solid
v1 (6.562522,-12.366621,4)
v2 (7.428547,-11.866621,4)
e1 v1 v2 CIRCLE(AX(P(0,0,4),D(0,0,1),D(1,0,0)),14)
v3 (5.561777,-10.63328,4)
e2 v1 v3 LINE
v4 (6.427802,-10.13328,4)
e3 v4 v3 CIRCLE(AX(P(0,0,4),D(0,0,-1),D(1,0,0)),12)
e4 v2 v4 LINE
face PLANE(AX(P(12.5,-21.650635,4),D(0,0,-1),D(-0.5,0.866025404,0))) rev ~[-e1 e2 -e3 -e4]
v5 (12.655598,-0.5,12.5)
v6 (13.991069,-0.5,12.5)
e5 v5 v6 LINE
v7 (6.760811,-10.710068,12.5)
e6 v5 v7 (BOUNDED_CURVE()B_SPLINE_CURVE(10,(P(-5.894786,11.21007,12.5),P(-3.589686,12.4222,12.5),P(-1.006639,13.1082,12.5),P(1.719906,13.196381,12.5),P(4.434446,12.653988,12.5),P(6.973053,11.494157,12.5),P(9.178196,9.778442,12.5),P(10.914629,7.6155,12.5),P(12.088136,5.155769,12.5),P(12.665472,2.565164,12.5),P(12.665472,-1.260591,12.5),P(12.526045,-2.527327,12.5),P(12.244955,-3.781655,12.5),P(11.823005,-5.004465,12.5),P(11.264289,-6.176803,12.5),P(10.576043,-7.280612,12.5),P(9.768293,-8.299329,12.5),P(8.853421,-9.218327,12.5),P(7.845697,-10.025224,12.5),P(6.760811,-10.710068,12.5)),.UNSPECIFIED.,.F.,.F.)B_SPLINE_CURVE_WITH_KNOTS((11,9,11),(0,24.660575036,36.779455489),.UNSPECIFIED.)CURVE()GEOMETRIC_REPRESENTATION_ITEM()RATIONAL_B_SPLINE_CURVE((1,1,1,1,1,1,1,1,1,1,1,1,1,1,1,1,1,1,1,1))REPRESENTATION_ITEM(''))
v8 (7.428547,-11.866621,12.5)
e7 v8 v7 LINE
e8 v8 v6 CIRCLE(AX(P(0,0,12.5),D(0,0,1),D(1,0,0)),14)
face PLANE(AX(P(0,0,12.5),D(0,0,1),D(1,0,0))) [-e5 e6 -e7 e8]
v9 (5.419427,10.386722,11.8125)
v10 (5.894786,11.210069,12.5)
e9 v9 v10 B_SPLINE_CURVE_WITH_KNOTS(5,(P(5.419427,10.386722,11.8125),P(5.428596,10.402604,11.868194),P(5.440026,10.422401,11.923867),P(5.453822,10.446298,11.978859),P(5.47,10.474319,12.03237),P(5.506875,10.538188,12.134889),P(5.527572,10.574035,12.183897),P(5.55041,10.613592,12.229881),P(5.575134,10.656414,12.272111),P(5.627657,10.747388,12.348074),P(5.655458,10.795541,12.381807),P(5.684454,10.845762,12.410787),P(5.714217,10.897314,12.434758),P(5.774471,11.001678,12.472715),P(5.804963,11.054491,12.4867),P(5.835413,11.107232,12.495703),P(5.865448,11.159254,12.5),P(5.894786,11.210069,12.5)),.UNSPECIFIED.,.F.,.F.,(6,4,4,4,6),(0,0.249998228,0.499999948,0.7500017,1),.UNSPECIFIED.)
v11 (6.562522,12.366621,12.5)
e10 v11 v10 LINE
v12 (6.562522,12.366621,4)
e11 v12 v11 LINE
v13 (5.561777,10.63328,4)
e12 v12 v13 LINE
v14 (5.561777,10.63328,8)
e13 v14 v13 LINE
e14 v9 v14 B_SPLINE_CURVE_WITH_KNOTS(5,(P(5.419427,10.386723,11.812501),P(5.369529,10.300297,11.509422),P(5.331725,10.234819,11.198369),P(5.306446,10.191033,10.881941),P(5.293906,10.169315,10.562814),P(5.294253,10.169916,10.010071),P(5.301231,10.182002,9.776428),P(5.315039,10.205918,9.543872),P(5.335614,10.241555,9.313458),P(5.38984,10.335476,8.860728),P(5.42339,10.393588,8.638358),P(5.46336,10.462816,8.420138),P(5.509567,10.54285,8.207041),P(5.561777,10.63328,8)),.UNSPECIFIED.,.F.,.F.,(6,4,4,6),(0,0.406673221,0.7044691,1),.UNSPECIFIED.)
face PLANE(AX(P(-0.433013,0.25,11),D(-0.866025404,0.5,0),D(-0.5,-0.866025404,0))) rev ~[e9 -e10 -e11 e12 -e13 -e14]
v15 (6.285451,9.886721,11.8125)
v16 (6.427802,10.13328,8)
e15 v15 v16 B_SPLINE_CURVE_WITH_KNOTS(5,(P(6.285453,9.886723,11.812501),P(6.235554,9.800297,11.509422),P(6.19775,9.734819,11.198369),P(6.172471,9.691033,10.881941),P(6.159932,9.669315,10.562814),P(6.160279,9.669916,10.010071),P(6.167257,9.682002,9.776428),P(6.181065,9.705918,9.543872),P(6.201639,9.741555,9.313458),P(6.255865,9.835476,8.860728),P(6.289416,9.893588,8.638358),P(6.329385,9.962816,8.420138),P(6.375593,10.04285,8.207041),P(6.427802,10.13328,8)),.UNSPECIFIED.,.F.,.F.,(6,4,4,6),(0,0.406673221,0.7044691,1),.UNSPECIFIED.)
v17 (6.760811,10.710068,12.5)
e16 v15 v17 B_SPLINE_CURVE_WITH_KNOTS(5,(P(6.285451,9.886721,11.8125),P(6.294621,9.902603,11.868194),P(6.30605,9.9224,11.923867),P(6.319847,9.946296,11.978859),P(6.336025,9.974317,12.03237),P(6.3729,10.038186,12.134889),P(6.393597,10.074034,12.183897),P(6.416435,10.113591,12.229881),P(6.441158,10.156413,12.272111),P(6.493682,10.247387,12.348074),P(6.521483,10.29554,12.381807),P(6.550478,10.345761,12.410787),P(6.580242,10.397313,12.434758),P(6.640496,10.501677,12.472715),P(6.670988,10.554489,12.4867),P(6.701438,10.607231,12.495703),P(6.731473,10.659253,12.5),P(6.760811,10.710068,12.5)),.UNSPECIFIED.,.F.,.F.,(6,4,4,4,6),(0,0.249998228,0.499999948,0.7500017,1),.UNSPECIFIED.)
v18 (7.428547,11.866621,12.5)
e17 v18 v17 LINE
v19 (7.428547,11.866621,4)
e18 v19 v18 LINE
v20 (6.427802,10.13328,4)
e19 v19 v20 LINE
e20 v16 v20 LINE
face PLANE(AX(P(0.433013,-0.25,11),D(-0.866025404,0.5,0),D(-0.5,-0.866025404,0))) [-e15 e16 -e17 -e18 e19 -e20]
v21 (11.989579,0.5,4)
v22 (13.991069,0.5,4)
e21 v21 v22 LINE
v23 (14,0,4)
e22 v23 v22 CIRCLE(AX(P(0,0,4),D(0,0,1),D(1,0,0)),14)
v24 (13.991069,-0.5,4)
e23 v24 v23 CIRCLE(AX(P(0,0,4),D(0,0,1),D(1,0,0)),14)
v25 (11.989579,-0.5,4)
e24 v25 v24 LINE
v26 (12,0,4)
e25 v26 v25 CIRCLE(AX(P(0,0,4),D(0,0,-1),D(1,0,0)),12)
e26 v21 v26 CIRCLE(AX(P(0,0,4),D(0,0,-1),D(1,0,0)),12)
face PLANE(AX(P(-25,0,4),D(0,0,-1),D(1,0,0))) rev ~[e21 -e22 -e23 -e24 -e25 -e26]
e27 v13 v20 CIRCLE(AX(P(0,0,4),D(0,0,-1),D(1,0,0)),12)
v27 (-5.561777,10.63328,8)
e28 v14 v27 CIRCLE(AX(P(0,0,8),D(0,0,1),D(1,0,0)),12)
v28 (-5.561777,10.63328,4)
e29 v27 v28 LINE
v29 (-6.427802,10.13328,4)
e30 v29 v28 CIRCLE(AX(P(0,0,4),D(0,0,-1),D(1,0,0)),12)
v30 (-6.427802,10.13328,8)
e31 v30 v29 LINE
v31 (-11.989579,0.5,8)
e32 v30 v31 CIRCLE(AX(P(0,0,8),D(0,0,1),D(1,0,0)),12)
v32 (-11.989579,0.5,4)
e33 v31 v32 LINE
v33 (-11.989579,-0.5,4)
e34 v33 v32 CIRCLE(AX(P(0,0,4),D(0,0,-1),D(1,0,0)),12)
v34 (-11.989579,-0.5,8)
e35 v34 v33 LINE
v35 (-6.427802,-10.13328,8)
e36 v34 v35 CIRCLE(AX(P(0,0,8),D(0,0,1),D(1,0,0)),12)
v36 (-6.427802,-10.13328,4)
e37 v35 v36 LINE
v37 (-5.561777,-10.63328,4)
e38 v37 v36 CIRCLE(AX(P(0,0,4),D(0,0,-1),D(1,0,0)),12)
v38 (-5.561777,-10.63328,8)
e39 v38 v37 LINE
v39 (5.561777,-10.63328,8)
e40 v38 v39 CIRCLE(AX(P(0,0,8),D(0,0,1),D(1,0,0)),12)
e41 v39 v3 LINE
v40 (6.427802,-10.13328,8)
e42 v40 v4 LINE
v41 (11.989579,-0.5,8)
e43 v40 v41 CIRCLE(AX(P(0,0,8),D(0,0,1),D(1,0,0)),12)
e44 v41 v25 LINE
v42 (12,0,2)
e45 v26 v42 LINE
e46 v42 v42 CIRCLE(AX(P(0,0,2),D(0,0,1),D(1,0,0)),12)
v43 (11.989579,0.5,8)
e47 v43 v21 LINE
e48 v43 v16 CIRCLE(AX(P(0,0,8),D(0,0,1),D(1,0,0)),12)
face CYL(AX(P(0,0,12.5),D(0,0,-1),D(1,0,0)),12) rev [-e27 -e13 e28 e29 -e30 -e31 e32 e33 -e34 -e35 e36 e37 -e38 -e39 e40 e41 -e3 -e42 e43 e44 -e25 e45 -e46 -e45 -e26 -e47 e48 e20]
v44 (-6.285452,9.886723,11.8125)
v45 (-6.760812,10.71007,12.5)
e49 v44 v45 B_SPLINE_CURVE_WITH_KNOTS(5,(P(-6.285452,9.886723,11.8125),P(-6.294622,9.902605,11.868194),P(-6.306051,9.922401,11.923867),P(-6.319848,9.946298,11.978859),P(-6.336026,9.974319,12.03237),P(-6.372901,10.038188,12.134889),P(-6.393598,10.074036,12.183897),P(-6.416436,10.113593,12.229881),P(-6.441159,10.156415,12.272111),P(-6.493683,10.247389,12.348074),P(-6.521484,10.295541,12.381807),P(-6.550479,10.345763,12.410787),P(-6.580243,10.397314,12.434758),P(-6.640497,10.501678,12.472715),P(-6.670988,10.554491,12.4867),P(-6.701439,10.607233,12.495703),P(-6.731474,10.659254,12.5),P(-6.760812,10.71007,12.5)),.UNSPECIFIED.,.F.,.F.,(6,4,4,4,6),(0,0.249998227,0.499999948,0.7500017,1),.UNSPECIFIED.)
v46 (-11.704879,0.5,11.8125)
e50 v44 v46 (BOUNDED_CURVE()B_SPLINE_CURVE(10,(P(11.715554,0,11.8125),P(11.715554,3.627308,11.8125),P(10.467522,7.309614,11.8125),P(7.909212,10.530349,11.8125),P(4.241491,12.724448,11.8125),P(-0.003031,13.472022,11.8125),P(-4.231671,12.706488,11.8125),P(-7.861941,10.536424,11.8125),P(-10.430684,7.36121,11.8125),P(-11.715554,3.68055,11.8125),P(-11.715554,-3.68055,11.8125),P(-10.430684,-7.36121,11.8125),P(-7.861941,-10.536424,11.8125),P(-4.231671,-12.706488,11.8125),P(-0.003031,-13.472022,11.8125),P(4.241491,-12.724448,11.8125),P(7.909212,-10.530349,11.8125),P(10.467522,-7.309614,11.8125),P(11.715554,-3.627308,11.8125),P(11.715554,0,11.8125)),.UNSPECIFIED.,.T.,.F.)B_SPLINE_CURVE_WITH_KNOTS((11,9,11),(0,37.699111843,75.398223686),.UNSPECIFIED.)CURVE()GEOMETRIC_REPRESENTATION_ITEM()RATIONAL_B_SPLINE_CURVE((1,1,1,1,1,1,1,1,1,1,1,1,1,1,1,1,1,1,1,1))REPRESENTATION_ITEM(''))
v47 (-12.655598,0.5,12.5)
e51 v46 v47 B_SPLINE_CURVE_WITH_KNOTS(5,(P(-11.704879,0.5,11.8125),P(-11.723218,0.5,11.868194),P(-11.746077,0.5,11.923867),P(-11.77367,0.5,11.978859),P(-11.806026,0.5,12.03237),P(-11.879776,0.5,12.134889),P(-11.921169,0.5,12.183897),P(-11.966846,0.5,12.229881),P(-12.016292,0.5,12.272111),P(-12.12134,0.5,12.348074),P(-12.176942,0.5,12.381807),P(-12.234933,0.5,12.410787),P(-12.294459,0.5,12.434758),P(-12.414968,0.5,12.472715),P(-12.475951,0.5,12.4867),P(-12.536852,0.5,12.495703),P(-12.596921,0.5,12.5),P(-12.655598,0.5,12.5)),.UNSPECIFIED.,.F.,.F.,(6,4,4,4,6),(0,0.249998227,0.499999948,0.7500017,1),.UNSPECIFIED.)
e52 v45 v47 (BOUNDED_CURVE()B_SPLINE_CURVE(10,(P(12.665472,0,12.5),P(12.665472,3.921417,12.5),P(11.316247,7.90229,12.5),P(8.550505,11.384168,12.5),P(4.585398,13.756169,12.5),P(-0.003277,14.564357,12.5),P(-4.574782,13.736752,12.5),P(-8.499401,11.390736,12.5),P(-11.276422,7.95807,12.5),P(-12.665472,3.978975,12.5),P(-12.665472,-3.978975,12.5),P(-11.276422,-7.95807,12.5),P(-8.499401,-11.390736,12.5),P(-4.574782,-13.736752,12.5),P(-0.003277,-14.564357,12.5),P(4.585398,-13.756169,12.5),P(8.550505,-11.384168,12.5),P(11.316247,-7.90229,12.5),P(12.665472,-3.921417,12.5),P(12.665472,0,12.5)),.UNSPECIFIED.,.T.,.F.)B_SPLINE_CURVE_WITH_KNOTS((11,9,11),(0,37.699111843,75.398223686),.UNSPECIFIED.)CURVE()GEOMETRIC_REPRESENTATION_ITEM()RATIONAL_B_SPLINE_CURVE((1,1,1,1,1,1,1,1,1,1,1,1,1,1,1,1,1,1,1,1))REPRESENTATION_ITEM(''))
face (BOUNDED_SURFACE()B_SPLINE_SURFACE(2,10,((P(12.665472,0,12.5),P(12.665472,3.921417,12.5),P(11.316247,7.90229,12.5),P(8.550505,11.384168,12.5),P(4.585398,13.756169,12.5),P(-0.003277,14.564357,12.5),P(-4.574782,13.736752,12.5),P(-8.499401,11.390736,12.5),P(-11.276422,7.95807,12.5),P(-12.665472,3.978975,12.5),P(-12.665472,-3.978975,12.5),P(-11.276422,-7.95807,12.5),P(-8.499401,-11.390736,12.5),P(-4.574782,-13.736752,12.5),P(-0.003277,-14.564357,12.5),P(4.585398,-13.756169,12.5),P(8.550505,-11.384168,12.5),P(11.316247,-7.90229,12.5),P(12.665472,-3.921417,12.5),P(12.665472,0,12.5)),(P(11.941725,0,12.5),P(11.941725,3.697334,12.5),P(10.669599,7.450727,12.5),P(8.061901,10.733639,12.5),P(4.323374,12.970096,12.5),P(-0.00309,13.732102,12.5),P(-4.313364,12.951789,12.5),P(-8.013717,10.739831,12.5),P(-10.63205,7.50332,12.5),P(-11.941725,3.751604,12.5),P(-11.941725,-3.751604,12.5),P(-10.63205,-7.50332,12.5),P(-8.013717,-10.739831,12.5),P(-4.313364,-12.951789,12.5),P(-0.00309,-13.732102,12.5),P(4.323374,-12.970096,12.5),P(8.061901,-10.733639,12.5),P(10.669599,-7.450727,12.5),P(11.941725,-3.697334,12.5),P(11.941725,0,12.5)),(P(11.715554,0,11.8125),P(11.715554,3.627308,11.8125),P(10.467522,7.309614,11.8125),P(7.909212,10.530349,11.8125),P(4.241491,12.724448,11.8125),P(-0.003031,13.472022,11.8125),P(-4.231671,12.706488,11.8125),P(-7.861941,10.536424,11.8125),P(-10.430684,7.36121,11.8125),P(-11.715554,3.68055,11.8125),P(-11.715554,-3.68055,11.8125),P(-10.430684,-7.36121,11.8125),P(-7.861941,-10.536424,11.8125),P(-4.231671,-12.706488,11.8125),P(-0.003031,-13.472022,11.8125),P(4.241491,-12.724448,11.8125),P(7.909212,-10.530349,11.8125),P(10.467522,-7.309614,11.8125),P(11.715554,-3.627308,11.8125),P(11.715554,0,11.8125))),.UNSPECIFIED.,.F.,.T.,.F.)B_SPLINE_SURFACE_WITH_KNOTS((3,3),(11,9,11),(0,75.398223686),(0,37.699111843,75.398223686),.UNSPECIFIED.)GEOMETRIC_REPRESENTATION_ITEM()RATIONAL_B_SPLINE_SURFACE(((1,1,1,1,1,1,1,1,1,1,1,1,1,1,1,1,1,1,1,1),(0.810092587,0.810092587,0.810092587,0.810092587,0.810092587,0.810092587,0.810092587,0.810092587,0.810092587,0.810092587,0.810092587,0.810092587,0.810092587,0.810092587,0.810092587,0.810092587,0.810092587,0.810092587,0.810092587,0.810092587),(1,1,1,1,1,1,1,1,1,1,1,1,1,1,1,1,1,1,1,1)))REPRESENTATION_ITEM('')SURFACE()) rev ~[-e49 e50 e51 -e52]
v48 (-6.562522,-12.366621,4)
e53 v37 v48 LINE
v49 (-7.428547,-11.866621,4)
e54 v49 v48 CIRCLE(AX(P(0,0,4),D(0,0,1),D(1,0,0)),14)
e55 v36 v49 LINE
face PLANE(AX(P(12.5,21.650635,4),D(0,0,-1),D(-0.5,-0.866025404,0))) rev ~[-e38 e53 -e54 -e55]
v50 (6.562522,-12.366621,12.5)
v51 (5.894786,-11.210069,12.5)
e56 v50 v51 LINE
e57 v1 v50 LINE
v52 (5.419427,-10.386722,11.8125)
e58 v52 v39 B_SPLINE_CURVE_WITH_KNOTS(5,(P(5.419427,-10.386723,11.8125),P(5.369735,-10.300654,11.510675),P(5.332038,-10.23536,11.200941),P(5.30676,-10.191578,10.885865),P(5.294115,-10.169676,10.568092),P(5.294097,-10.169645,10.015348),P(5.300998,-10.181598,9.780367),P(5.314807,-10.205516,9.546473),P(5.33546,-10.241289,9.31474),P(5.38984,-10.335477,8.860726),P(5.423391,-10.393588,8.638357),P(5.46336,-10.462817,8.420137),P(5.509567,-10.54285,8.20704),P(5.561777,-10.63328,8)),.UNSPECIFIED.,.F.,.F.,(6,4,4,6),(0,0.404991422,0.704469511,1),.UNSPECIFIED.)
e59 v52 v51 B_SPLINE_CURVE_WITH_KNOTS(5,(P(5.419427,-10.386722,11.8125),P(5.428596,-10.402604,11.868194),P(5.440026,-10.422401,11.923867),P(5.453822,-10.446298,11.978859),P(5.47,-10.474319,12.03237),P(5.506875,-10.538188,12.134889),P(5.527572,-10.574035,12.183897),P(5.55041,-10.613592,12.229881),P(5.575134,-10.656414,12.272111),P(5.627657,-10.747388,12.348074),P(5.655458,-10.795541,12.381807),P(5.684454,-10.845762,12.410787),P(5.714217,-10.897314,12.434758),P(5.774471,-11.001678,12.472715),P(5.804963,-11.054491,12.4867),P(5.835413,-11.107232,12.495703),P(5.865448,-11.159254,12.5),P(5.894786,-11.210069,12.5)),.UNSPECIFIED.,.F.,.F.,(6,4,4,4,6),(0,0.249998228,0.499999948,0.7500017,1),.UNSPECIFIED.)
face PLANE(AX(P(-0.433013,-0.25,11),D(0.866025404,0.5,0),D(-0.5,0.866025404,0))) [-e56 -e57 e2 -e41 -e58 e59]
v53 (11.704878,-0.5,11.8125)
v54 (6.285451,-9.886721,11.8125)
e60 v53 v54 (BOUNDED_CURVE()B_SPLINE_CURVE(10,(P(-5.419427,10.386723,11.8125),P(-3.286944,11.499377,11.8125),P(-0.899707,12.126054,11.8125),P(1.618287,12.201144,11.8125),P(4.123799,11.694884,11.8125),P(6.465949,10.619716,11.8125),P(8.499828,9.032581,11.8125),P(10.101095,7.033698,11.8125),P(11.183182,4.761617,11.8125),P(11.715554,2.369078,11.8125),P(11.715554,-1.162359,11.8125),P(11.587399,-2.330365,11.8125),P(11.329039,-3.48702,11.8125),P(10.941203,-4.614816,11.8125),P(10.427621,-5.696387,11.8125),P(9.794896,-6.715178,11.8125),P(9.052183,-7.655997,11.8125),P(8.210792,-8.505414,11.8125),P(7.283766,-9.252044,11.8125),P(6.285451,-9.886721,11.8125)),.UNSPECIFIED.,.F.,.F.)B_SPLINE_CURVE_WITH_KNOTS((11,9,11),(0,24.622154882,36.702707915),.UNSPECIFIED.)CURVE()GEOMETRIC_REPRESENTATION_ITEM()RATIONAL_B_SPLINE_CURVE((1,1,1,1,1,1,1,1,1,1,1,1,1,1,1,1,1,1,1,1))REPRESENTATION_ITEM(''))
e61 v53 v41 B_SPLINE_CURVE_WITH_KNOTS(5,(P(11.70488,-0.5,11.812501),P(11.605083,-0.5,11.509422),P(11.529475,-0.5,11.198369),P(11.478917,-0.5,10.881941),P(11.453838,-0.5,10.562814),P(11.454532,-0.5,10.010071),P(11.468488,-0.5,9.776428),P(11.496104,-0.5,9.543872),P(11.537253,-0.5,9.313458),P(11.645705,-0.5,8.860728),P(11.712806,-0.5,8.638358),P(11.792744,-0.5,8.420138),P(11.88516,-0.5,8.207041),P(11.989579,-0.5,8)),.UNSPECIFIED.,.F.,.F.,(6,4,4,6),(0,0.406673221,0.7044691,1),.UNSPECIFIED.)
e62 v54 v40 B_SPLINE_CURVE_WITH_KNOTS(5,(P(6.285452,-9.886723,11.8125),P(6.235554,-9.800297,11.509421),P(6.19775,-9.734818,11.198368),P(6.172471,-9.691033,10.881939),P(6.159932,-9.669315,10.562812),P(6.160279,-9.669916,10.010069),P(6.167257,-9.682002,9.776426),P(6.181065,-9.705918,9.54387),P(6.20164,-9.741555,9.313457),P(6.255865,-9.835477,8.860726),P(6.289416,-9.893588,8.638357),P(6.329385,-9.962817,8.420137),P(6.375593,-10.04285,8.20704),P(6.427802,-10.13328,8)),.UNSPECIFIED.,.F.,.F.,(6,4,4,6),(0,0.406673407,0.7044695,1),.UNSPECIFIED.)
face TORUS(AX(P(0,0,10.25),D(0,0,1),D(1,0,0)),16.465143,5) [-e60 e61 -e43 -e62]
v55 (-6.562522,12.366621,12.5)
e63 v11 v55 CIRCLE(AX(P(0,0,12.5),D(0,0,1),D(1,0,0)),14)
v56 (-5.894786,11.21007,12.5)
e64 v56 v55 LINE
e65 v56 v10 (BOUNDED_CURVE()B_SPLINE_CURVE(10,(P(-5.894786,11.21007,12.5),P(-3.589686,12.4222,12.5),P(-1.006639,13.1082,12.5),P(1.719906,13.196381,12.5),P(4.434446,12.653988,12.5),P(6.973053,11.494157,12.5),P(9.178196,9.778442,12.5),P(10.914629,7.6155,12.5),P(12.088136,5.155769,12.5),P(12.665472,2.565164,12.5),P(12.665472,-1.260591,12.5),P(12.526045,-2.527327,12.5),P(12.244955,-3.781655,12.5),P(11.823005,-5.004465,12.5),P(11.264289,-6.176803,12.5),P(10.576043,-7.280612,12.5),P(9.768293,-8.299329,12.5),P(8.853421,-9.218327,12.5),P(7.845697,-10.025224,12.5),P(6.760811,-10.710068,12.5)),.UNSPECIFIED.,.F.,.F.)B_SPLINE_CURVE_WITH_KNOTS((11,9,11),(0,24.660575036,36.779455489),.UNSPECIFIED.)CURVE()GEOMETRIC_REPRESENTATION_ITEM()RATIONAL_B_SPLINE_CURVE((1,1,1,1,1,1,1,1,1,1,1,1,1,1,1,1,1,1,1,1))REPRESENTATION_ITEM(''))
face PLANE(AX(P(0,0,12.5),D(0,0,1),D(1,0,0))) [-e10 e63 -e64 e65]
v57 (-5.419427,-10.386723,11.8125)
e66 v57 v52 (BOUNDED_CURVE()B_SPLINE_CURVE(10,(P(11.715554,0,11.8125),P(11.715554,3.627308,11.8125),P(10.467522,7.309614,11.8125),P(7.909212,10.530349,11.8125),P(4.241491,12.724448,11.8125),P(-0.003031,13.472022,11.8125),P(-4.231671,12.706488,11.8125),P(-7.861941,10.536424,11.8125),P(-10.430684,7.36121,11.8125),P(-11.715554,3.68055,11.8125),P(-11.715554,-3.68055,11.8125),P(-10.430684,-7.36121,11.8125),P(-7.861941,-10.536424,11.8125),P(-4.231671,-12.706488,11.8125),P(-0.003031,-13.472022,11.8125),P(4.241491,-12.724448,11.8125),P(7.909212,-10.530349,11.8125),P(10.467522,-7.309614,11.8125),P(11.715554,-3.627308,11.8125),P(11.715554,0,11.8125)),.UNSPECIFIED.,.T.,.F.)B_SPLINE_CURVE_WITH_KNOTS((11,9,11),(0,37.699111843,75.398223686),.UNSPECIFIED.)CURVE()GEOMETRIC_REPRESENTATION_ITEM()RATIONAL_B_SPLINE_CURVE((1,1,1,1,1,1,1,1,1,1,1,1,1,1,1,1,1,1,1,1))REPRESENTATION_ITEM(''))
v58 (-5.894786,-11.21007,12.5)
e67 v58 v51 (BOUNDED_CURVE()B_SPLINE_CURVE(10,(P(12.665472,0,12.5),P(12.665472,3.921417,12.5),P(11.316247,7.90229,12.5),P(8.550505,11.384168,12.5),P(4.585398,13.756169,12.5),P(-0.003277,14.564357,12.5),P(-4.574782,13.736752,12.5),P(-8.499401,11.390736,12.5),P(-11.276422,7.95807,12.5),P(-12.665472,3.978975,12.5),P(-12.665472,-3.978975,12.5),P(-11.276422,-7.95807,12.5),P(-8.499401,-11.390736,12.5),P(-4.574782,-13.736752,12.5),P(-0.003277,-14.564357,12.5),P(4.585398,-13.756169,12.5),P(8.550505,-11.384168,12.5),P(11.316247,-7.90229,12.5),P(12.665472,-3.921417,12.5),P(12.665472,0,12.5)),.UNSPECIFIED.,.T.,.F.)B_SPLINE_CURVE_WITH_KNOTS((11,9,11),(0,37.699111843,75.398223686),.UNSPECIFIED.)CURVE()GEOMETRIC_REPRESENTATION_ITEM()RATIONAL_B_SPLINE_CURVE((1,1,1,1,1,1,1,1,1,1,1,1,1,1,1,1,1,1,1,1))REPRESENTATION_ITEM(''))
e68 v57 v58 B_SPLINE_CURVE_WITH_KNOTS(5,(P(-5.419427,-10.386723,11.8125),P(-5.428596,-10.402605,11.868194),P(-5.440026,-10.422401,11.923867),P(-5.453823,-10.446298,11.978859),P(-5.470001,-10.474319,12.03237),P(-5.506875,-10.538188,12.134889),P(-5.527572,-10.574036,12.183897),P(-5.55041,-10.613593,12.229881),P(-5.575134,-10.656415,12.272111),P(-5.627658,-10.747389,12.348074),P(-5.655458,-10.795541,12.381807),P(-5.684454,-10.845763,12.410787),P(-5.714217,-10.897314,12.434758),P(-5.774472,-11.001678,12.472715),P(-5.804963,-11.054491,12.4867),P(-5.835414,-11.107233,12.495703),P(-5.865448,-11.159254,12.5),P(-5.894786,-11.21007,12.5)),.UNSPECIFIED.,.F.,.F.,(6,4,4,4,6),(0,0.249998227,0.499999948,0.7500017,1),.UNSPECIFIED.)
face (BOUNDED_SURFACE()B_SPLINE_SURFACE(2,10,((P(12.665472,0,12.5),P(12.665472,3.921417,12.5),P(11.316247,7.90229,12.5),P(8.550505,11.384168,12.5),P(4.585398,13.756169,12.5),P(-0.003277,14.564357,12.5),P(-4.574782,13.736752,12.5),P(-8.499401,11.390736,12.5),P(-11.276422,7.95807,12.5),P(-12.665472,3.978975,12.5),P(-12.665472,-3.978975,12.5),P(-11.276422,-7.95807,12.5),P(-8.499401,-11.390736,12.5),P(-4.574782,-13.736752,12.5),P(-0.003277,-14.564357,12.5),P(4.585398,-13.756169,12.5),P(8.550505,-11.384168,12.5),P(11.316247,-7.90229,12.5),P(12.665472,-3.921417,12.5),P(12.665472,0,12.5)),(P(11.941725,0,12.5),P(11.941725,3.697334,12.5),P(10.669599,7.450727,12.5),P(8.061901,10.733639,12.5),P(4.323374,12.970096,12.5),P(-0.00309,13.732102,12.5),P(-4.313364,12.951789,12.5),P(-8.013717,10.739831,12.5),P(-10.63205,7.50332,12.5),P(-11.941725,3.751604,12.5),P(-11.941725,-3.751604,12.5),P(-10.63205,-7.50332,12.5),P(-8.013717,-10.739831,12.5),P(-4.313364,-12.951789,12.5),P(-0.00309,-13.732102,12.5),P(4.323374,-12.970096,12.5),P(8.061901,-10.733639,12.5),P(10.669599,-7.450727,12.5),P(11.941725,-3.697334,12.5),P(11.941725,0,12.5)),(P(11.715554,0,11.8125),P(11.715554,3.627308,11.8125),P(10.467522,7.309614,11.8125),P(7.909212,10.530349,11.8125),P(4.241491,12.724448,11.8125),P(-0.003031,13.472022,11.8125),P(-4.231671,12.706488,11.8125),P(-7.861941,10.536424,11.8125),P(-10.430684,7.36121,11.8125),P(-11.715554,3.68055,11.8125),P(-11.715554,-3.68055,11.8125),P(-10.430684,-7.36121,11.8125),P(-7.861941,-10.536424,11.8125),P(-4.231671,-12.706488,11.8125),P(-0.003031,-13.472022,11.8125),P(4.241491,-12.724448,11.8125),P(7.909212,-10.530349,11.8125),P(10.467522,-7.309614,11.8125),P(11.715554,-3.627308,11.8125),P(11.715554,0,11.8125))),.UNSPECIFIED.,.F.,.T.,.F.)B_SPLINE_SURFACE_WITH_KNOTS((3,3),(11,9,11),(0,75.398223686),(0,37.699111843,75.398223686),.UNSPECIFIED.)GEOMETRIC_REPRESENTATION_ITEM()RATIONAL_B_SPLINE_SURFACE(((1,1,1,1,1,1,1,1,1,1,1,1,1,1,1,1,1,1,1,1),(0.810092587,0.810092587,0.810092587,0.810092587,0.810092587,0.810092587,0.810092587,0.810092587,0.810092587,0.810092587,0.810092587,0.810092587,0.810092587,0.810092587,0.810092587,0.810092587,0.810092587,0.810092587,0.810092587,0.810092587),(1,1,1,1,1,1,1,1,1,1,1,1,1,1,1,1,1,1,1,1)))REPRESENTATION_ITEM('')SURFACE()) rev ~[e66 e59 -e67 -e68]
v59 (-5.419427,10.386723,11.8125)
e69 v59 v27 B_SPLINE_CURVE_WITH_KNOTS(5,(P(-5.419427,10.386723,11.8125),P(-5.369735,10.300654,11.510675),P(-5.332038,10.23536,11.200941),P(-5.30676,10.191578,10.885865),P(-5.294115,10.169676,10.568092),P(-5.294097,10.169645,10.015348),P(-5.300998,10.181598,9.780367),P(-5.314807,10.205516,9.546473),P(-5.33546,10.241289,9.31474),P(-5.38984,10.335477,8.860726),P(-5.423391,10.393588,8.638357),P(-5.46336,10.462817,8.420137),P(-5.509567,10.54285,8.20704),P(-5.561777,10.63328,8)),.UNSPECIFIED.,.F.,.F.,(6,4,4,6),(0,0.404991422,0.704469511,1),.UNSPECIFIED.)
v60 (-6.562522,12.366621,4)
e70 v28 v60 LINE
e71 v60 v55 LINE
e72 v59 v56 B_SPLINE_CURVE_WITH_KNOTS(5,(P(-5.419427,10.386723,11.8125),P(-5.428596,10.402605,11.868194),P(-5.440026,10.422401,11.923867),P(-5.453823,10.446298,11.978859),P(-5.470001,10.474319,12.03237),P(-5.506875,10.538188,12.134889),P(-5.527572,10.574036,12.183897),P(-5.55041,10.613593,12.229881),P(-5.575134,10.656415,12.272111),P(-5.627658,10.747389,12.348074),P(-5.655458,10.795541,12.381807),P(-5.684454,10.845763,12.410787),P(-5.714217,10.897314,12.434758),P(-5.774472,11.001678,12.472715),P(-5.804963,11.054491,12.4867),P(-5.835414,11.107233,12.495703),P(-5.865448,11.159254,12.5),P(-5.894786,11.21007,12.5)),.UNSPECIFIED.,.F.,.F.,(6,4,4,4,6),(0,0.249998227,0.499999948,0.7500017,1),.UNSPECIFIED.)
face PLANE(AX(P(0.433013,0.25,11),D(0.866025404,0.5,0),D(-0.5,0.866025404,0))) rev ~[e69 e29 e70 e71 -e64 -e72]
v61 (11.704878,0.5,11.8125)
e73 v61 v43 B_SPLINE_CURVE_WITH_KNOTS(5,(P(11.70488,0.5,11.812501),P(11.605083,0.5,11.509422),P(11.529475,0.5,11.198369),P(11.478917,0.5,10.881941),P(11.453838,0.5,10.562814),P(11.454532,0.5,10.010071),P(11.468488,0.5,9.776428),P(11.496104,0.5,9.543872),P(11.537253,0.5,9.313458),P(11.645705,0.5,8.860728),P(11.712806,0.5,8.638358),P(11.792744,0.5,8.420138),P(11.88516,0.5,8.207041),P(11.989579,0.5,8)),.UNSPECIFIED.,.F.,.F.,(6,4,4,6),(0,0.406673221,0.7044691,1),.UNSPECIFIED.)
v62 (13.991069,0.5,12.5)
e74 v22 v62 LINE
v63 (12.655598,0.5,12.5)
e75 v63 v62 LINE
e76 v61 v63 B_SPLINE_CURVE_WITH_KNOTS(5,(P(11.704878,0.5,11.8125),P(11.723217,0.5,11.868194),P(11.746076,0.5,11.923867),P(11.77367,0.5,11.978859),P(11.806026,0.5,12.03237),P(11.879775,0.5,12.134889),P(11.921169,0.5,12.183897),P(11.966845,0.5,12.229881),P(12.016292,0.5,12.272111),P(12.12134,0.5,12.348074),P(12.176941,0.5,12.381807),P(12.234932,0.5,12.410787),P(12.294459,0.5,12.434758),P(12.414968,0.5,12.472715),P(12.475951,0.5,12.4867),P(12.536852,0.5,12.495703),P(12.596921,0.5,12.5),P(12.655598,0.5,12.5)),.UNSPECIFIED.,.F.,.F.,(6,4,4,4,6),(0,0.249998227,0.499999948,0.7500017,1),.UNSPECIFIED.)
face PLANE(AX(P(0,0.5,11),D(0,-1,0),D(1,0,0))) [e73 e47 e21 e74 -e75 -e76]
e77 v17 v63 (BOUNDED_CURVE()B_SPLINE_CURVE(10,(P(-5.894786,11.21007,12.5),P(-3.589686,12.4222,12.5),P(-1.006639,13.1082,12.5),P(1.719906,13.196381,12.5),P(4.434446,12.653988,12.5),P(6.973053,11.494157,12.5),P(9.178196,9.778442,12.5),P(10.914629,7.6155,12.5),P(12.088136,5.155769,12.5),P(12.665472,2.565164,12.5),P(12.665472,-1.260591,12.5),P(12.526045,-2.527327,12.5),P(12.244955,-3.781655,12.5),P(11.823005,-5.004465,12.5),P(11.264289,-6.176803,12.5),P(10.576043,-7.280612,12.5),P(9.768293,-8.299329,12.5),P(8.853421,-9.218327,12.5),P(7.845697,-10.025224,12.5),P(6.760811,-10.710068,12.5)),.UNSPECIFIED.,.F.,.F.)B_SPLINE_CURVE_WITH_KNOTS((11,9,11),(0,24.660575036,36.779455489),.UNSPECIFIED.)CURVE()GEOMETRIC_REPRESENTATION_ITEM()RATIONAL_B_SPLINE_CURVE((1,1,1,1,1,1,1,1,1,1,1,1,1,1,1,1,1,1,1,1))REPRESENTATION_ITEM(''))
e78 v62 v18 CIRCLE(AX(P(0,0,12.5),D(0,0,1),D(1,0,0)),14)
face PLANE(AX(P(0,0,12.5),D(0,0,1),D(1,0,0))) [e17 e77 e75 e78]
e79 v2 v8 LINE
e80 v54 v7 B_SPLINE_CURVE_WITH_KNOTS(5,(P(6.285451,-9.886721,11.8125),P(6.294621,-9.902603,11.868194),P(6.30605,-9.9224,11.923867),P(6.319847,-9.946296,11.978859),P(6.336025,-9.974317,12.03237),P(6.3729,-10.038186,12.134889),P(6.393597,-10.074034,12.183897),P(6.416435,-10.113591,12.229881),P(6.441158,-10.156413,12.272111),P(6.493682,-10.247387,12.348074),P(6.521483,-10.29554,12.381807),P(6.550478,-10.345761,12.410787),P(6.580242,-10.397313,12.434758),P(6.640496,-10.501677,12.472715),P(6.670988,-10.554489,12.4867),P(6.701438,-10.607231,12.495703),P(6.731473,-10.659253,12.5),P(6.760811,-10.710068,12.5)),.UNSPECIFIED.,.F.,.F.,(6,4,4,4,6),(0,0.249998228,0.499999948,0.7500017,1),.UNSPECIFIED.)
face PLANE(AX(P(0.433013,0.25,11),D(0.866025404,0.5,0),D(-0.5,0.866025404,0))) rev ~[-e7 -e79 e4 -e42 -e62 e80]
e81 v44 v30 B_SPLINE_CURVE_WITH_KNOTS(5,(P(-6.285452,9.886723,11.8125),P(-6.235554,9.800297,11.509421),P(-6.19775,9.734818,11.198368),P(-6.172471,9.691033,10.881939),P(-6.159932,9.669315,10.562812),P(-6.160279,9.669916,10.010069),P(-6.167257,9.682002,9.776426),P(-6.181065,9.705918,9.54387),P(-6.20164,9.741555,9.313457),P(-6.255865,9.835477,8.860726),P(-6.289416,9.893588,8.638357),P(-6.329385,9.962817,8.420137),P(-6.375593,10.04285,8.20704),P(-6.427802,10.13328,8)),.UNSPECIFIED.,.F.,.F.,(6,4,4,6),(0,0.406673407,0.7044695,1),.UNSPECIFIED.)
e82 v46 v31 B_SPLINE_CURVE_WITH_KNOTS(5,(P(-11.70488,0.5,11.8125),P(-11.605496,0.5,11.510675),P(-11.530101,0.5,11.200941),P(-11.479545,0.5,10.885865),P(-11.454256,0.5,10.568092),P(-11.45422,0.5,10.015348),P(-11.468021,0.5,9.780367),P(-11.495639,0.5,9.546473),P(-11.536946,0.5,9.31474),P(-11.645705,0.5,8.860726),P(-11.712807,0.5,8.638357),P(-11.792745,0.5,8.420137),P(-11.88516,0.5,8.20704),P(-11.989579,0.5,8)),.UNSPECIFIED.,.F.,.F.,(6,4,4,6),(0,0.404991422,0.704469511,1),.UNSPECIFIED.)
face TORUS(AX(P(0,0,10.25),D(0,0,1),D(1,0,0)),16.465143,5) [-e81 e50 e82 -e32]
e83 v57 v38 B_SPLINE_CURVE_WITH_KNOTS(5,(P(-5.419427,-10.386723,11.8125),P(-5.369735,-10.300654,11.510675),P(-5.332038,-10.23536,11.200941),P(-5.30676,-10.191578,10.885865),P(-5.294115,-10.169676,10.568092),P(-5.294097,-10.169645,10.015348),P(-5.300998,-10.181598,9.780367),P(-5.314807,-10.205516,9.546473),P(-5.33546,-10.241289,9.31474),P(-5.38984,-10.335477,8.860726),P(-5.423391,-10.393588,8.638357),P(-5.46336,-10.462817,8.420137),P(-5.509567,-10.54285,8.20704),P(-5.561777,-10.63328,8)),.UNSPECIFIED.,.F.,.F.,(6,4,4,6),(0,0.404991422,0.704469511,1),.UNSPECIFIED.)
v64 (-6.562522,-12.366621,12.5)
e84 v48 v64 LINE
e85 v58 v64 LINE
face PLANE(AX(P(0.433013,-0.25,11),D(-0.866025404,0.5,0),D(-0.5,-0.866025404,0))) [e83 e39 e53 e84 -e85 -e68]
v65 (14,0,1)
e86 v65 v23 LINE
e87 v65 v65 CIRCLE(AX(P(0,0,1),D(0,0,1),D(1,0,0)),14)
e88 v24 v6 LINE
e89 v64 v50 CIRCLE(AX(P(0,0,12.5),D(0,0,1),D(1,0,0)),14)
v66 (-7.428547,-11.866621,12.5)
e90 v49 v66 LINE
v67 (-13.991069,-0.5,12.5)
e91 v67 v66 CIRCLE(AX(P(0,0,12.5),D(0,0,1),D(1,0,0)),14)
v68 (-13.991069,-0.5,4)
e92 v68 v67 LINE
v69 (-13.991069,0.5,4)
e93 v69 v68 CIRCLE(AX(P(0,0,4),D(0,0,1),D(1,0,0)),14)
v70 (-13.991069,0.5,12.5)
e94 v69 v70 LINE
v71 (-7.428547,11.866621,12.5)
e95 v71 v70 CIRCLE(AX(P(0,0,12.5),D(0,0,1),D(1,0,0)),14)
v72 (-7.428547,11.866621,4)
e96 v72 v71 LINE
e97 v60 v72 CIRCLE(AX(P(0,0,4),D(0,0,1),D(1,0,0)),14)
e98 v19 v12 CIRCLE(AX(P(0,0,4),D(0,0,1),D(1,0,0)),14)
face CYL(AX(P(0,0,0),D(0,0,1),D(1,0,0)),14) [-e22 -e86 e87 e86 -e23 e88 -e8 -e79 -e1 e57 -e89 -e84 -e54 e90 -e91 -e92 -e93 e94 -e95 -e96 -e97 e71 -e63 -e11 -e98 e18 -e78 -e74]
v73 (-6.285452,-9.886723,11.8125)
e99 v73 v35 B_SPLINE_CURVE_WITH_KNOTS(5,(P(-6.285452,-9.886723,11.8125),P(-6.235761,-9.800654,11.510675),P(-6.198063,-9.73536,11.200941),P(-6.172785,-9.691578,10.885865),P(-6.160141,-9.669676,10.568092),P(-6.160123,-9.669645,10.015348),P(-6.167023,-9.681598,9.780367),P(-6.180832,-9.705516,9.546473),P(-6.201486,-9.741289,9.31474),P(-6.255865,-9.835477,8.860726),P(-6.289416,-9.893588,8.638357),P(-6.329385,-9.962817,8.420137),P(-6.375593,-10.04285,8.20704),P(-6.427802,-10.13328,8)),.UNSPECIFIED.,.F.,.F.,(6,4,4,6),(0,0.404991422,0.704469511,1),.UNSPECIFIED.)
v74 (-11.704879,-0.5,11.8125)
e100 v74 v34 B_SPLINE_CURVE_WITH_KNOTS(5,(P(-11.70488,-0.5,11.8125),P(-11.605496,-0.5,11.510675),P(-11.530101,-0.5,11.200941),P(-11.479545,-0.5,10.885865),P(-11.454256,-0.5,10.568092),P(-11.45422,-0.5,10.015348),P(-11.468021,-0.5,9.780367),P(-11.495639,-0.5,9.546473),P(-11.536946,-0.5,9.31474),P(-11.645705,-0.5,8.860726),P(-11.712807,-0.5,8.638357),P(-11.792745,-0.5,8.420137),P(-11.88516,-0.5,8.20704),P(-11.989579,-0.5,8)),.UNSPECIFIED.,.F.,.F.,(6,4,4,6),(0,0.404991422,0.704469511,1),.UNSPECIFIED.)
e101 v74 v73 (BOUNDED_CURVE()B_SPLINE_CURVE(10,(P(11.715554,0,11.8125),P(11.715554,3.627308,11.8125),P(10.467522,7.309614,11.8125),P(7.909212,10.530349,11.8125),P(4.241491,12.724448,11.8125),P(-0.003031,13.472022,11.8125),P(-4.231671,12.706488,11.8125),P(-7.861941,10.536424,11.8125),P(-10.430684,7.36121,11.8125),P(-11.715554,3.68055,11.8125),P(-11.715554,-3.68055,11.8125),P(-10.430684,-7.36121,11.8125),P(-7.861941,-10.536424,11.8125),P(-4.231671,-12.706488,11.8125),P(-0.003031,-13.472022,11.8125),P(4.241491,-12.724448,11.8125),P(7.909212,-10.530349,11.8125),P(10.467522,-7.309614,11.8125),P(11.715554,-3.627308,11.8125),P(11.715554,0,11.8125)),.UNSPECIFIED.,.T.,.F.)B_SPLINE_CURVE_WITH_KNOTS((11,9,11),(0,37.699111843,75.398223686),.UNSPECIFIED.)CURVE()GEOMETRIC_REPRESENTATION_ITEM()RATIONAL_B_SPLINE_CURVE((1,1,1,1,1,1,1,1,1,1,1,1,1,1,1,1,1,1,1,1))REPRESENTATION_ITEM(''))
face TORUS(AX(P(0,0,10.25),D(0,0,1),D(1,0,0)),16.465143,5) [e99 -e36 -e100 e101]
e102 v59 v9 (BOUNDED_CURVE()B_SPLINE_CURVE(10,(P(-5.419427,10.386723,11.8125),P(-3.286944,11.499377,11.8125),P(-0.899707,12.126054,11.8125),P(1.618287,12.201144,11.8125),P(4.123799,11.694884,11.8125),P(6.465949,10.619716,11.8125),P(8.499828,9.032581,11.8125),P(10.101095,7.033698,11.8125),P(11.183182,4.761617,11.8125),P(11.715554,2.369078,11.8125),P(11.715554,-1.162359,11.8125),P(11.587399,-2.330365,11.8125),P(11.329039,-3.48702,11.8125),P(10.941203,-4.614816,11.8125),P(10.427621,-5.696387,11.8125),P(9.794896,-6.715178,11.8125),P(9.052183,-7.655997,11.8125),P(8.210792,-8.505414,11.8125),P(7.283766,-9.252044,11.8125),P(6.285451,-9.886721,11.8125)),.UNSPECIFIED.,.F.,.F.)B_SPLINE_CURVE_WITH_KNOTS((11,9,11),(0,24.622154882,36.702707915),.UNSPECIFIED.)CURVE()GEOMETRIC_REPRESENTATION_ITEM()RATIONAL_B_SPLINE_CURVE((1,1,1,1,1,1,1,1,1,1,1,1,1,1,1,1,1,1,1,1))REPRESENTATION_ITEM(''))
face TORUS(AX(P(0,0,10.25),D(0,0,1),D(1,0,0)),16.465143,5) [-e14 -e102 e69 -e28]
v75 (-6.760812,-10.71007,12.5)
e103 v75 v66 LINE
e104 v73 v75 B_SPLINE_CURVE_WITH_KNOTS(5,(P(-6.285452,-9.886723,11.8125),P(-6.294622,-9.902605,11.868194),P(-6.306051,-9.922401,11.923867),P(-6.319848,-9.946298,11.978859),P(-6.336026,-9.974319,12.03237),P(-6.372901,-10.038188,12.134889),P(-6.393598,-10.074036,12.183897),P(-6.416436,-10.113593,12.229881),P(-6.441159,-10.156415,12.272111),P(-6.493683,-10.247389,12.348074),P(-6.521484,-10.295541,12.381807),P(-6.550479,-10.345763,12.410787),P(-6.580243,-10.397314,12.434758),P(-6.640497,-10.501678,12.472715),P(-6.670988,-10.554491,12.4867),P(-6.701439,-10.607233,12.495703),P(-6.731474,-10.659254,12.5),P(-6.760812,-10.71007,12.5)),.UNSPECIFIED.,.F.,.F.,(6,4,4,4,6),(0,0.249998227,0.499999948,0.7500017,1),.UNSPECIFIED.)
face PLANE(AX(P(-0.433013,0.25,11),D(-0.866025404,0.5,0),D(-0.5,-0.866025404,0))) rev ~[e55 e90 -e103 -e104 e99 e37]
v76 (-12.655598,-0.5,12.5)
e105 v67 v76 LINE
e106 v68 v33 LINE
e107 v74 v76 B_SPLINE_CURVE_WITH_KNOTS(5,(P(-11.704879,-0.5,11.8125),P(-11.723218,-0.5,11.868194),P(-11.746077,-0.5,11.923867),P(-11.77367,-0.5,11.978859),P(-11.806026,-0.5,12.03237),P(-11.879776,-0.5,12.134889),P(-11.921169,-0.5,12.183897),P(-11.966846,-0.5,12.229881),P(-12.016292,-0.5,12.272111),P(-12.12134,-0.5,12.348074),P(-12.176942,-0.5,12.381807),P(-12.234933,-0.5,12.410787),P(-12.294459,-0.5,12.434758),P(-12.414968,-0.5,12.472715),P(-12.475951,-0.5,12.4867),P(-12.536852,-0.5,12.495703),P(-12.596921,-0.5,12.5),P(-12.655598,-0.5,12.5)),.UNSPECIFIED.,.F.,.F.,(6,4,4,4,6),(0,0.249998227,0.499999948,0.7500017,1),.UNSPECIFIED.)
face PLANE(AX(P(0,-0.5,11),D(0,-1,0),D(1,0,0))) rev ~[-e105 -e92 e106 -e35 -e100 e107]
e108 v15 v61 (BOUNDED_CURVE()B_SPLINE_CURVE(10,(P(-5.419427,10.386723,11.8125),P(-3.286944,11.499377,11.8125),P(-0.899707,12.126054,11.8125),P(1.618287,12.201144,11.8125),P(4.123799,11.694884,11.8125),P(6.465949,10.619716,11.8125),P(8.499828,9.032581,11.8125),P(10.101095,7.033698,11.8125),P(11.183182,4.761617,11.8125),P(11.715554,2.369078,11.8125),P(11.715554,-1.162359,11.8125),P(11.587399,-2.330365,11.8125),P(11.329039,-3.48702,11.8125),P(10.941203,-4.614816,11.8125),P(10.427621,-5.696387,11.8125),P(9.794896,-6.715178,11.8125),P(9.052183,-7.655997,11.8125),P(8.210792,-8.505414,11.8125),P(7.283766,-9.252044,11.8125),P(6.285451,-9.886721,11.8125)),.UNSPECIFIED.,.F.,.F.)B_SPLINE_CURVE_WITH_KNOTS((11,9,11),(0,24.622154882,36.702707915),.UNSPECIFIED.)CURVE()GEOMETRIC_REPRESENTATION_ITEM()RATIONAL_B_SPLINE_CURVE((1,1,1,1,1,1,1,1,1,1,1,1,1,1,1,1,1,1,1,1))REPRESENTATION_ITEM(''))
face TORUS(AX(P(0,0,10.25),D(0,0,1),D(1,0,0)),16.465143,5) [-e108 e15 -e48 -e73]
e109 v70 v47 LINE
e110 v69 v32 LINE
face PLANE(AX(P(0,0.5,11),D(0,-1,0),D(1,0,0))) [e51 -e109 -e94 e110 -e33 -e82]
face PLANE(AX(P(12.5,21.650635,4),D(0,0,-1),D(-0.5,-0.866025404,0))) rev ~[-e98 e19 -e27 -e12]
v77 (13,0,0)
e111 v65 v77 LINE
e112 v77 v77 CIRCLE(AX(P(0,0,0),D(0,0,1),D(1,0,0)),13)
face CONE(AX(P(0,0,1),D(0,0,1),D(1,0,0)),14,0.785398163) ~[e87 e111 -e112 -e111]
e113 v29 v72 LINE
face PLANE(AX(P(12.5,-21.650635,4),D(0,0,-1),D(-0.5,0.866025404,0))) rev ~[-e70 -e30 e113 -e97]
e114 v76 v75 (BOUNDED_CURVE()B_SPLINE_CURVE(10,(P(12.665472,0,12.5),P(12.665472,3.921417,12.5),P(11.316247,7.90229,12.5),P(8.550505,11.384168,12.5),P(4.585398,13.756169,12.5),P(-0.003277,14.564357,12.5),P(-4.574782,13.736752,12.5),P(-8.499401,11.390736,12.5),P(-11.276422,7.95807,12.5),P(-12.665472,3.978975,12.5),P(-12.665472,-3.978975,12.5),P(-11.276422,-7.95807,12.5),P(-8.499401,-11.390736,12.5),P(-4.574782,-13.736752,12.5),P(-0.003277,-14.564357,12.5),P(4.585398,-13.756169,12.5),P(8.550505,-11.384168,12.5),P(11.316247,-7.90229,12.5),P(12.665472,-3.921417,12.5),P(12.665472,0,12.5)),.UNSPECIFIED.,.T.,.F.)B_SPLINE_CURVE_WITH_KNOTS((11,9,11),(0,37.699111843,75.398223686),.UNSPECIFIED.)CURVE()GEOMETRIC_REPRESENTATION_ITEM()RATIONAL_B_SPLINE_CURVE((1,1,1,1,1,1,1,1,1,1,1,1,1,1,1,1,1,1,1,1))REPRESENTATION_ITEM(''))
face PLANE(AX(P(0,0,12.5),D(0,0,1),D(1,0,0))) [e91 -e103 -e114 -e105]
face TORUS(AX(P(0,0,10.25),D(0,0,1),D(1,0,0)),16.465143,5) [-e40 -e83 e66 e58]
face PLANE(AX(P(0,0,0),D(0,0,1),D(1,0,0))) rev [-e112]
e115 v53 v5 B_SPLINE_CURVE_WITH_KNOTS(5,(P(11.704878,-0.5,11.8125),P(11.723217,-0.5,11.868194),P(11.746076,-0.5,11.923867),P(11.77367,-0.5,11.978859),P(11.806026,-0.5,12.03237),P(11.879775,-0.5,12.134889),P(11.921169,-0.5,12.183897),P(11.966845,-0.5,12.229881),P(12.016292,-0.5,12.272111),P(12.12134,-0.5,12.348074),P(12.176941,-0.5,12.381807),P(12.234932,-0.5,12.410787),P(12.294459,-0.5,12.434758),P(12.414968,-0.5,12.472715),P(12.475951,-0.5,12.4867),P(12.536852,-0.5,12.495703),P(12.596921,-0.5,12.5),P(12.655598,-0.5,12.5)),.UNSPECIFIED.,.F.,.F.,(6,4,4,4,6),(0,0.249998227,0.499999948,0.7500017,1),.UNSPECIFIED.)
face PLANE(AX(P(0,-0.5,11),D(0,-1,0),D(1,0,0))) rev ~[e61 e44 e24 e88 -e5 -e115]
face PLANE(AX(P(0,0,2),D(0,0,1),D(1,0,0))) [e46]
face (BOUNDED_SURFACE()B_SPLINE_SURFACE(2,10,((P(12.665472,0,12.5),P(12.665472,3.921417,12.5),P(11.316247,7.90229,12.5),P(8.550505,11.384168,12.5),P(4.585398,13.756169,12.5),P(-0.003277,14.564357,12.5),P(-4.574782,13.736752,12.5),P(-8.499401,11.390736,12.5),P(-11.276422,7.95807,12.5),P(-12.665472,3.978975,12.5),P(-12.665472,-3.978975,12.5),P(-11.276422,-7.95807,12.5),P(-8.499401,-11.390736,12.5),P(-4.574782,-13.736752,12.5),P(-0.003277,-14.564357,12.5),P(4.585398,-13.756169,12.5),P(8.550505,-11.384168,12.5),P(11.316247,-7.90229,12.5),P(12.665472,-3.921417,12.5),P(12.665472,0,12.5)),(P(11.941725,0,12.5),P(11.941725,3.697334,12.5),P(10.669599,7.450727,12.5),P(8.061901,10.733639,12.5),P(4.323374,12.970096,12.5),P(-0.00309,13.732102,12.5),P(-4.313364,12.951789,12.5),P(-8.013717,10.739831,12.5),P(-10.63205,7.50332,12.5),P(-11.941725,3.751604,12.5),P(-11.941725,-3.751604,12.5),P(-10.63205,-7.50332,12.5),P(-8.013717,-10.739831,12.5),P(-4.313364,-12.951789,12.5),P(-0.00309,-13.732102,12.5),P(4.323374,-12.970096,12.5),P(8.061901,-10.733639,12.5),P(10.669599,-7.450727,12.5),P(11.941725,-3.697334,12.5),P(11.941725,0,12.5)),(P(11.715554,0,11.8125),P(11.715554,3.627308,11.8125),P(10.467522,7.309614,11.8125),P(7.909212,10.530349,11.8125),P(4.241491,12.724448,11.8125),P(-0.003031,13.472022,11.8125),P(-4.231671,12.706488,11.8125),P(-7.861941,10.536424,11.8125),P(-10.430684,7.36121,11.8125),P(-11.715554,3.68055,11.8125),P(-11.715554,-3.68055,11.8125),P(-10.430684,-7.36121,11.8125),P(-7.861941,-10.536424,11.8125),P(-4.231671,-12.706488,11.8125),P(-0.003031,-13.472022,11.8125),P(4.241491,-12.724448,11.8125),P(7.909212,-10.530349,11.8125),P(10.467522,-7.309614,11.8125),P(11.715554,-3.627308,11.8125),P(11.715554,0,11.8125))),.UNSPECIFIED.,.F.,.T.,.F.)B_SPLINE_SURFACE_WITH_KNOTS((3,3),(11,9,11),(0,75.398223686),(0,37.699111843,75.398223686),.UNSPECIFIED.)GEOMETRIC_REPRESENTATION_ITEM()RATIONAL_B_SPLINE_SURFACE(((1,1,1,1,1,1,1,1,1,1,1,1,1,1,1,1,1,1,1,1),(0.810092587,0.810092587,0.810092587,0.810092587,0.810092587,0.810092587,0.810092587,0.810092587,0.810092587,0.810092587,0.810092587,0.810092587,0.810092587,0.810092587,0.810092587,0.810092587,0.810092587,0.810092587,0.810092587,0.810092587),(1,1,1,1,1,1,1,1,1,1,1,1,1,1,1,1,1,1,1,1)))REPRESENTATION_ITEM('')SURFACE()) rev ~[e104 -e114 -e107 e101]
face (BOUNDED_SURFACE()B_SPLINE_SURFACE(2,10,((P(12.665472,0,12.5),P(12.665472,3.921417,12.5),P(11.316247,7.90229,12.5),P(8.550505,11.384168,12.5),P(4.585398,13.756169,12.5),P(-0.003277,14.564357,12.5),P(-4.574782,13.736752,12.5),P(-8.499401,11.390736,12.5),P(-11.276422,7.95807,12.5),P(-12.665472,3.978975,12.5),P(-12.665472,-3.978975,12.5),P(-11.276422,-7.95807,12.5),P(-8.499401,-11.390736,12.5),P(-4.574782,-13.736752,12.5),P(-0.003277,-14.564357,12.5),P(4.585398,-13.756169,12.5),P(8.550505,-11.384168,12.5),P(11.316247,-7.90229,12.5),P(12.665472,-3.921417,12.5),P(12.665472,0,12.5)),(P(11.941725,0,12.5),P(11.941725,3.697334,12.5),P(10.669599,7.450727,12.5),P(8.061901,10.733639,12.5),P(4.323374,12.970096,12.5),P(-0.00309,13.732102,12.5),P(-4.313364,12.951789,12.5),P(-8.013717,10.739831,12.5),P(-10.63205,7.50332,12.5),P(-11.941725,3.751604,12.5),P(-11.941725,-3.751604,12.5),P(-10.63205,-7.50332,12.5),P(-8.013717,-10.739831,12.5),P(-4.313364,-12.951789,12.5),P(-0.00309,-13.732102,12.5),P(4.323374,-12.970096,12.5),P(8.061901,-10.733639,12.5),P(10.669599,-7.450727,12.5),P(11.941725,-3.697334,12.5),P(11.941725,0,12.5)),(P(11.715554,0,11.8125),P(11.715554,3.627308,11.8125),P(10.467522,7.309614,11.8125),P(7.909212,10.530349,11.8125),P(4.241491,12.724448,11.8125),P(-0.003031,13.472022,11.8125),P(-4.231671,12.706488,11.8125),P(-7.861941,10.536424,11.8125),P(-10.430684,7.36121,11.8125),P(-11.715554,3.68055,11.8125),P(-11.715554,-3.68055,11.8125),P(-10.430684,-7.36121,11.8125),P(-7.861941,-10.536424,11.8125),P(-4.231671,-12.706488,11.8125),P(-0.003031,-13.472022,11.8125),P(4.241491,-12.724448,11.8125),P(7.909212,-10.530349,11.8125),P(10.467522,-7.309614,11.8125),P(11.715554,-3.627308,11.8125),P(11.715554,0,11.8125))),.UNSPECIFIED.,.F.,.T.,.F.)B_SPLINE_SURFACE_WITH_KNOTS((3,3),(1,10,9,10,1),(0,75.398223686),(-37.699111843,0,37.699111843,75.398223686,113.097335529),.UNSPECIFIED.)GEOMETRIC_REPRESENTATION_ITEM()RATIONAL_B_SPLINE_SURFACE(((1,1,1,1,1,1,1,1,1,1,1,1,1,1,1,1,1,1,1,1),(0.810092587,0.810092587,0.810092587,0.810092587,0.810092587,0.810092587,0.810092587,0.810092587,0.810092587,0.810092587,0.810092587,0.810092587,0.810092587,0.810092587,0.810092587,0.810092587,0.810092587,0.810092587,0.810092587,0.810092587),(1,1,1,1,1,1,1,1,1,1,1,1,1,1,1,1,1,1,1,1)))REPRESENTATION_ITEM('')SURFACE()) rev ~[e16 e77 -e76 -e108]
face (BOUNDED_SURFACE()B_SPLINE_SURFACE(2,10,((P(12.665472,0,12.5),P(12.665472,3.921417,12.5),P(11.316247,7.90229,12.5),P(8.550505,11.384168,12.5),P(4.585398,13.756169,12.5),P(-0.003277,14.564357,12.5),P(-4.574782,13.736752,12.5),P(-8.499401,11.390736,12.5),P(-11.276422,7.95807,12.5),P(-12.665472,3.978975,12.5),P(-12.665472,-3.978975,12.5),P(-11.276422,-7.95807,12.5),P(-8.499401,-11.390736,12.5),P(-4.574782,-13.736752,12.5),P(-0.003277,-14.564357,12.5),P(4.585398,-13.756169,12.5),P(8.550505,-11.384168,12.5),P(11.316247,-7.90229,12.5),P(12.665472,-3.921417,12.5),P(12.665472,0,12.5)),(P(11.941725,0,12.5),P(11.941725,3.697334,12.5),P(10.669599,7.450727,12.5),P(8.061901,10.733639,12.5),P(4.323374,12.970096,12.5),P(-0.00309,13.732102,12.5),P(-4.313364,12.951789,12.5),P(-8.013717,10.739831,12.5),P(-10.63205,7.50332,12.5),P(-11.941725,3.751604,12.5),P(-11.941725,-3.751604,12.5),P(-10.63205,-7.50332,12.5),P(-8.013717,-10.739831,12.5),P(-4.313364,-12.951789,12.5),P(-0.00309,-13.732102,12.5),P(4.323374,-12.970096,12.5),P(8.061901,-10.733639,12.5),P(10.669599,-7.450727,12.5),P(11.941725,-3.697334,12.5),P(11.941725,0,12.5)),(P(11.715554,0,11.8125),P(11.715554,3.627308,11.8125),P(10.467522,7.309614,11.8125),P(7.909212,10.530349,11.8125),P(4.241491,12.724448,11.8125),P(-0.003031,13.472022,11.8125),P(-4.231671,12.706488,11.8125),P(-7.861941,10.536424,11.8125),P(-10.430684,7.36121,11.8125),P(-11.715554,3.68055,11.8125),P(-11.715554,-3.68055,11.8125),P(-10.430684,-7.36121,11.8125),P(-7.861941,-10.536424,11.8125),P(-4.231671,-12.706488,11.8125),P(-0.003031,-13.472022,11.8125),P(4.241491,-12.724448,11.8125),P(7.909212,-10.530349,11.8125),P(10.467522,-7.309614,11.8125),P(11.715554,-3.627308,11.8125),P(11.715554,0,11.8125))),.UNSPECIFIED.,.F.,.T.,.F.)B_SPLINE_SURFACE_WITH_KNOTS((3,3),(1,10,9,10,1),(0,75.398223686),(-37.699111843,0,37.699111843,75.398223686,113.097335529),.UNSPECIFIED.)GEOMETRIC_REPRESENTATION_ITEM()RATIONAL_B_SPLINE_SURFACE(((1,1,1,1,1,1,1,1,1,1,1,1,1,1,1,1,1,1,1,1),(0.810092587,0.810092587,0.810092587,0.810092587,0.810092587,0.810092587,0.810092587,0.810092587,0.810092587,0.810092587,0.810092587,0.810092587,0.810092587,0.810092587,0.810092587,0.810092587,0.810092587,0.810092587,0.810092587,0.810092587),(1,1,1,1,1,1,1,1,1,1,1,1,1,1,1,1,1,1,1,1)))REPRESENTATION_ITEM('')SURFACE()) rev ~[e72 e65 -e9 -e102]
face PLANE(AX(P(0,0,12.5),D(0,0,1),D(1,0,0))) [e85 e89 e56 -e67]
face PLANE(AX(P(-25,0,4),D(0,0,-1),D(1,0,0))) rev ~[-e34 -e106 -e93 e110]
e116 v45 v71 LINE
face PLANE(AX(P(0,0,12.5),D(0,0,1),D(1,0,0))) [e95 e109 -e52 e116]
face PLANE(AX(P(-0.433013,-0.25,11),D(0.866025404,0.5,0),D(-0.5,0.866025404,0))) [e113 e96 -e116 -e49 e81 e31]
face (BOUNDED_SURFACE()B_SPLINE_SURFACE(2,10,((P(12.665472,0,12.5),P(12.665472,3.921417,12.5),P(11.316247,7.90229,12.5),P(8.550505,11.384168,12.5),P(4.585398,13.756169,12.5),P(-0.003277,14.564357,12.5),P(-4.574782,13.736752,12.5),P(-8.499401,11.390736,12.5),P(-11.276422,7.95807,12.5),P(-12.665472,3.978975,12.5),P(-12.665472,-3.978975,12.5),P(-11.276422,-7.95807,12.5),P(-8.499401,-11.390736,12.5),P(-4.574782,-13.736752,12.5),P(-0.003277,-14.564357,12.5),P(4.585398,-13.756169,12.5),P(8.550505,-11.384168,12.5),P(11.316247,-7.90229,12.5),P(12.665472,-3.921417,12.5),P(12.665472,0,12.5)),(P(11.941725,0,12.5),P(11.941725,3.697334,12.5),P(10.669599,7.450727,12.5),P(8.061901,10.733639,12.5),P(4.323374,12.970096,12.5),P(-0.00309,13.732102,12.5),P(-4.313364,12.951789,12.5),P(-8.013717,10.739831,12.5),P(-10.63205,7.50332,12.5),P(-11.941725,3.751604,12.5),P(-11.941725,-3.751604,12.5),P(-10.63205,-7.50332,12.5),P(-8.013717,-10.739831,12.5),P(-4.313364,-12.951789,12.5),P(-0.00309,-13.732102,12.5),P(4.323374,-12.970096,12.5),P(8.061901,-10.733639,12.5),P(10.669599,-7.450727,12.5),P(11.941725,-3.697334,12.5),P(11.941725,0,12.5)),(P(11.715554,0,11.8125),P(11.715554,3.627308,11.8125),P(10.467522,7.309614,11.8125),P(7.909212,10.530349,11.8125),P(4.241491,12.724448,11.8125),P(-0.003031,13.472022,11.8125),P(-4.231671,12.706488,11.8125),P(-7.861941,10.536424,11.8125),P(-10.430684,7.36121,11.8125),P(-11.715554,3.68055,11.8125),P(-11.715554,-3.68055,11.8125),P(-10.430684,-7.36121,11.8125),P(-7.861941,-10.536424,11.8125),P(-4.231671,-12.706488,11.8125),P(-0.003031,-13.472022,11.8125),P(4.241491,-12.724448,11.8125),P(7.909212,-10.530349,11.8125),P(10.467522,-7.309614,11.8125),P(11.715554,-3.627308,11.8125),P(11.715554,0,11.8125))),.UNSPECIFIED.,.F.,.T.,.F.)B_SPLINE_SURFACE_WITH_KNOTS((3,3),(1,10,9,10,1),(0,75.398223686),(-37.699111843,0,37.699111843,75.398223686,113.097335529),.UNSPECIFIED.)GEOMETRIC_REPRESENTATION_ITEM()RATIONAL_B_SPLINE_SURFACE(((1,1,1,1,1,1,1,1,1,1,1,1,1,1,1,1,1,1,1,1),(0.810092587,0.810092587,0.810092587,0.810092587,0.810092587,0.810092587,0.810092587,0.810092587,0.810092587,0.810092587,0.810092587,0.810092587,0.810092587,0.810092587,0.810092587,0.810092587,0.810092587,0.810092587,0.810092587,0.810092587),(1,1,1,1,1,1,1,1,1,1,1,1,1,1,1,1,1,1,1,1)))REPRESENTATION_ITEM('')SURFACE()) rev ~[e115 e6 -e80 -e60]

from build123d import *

# Parameters (mm, degrees)
F3_R          = 1
F4_SIZE       = 1
F5_W          = 50
F5_H          = 14
F6_DEPTH      = 0.5
F6_DEPTH_BACK = 0.5
F7_COUNT      = 3


with BuildPart() as f2:
    # F1 (on Front) → F2 (revolve)
    with BuildSketch(Plane.XZ):
        Polygon((0, 2), (0, 0), (14, 0), (14, 12.5), (12, 12.5), (12, 8), (12, 2), align=None)
        with BuildLine():
            Line((12, 8), (12, 12.5))
            ThreePointArc((12, 12.5), (11.4651427749, 10.25), (12, 8))
        make_face()
    revolve(axis=Axis((0, 0, 9.526854381), (0, 0, 1)))

    # F3
    f3_edges = [f2.edges().sort_by_distance(p)[0] for p in [
        (-12, 0, 12.5),
    ]]
    fillet(f3_edges, radius=F3_R)

    # F4
    f4_edges = [f2.edges().sort_by_distance(p)[0] for p in [
        (-14, 0, 0),
    ]]
    chamfer(f4_edges, length=F4_SIZE)


with BuildPart() as f6:
    # F5 (on Front) → F6 (new body, two sides)
    with BuildSketch(Plane.XZ) as f6_sk:
        with Locations((0, 11)):
            Rectangle(F5_W, F5_H)
    extrude(amount=F6_DEPTH)
    extrude(f6_sk.sketch, amount=-F6_DEPTH_BACK)


with BuildPart() as f7_1:
    # F7: instance of F6
    add(f6.part.rotate(Axis((0, 0, 20.1674159616), (0, 0, 1)), 1 * 360 / F7_COUNT))


with BuildPart() as f7_2:
    # F7: instance of F6
    add(f6.part.rotate(Axis((0, 0, 20.1674159616), (0, 0, 1)), 2 * 360 / F7_COUNT))


with BuildPart() as f2_1:
    add(f2.part)

    # F8: cut F7_1, F6, F7_2
    add(f7_1.part, mode=Mode.SUBTRACT)
    add(f6.part, mode=Mode.SUBTRACT)
    add(f7_2.part, mode=Mode.SUBTRACT)


solid = f2_1.part
